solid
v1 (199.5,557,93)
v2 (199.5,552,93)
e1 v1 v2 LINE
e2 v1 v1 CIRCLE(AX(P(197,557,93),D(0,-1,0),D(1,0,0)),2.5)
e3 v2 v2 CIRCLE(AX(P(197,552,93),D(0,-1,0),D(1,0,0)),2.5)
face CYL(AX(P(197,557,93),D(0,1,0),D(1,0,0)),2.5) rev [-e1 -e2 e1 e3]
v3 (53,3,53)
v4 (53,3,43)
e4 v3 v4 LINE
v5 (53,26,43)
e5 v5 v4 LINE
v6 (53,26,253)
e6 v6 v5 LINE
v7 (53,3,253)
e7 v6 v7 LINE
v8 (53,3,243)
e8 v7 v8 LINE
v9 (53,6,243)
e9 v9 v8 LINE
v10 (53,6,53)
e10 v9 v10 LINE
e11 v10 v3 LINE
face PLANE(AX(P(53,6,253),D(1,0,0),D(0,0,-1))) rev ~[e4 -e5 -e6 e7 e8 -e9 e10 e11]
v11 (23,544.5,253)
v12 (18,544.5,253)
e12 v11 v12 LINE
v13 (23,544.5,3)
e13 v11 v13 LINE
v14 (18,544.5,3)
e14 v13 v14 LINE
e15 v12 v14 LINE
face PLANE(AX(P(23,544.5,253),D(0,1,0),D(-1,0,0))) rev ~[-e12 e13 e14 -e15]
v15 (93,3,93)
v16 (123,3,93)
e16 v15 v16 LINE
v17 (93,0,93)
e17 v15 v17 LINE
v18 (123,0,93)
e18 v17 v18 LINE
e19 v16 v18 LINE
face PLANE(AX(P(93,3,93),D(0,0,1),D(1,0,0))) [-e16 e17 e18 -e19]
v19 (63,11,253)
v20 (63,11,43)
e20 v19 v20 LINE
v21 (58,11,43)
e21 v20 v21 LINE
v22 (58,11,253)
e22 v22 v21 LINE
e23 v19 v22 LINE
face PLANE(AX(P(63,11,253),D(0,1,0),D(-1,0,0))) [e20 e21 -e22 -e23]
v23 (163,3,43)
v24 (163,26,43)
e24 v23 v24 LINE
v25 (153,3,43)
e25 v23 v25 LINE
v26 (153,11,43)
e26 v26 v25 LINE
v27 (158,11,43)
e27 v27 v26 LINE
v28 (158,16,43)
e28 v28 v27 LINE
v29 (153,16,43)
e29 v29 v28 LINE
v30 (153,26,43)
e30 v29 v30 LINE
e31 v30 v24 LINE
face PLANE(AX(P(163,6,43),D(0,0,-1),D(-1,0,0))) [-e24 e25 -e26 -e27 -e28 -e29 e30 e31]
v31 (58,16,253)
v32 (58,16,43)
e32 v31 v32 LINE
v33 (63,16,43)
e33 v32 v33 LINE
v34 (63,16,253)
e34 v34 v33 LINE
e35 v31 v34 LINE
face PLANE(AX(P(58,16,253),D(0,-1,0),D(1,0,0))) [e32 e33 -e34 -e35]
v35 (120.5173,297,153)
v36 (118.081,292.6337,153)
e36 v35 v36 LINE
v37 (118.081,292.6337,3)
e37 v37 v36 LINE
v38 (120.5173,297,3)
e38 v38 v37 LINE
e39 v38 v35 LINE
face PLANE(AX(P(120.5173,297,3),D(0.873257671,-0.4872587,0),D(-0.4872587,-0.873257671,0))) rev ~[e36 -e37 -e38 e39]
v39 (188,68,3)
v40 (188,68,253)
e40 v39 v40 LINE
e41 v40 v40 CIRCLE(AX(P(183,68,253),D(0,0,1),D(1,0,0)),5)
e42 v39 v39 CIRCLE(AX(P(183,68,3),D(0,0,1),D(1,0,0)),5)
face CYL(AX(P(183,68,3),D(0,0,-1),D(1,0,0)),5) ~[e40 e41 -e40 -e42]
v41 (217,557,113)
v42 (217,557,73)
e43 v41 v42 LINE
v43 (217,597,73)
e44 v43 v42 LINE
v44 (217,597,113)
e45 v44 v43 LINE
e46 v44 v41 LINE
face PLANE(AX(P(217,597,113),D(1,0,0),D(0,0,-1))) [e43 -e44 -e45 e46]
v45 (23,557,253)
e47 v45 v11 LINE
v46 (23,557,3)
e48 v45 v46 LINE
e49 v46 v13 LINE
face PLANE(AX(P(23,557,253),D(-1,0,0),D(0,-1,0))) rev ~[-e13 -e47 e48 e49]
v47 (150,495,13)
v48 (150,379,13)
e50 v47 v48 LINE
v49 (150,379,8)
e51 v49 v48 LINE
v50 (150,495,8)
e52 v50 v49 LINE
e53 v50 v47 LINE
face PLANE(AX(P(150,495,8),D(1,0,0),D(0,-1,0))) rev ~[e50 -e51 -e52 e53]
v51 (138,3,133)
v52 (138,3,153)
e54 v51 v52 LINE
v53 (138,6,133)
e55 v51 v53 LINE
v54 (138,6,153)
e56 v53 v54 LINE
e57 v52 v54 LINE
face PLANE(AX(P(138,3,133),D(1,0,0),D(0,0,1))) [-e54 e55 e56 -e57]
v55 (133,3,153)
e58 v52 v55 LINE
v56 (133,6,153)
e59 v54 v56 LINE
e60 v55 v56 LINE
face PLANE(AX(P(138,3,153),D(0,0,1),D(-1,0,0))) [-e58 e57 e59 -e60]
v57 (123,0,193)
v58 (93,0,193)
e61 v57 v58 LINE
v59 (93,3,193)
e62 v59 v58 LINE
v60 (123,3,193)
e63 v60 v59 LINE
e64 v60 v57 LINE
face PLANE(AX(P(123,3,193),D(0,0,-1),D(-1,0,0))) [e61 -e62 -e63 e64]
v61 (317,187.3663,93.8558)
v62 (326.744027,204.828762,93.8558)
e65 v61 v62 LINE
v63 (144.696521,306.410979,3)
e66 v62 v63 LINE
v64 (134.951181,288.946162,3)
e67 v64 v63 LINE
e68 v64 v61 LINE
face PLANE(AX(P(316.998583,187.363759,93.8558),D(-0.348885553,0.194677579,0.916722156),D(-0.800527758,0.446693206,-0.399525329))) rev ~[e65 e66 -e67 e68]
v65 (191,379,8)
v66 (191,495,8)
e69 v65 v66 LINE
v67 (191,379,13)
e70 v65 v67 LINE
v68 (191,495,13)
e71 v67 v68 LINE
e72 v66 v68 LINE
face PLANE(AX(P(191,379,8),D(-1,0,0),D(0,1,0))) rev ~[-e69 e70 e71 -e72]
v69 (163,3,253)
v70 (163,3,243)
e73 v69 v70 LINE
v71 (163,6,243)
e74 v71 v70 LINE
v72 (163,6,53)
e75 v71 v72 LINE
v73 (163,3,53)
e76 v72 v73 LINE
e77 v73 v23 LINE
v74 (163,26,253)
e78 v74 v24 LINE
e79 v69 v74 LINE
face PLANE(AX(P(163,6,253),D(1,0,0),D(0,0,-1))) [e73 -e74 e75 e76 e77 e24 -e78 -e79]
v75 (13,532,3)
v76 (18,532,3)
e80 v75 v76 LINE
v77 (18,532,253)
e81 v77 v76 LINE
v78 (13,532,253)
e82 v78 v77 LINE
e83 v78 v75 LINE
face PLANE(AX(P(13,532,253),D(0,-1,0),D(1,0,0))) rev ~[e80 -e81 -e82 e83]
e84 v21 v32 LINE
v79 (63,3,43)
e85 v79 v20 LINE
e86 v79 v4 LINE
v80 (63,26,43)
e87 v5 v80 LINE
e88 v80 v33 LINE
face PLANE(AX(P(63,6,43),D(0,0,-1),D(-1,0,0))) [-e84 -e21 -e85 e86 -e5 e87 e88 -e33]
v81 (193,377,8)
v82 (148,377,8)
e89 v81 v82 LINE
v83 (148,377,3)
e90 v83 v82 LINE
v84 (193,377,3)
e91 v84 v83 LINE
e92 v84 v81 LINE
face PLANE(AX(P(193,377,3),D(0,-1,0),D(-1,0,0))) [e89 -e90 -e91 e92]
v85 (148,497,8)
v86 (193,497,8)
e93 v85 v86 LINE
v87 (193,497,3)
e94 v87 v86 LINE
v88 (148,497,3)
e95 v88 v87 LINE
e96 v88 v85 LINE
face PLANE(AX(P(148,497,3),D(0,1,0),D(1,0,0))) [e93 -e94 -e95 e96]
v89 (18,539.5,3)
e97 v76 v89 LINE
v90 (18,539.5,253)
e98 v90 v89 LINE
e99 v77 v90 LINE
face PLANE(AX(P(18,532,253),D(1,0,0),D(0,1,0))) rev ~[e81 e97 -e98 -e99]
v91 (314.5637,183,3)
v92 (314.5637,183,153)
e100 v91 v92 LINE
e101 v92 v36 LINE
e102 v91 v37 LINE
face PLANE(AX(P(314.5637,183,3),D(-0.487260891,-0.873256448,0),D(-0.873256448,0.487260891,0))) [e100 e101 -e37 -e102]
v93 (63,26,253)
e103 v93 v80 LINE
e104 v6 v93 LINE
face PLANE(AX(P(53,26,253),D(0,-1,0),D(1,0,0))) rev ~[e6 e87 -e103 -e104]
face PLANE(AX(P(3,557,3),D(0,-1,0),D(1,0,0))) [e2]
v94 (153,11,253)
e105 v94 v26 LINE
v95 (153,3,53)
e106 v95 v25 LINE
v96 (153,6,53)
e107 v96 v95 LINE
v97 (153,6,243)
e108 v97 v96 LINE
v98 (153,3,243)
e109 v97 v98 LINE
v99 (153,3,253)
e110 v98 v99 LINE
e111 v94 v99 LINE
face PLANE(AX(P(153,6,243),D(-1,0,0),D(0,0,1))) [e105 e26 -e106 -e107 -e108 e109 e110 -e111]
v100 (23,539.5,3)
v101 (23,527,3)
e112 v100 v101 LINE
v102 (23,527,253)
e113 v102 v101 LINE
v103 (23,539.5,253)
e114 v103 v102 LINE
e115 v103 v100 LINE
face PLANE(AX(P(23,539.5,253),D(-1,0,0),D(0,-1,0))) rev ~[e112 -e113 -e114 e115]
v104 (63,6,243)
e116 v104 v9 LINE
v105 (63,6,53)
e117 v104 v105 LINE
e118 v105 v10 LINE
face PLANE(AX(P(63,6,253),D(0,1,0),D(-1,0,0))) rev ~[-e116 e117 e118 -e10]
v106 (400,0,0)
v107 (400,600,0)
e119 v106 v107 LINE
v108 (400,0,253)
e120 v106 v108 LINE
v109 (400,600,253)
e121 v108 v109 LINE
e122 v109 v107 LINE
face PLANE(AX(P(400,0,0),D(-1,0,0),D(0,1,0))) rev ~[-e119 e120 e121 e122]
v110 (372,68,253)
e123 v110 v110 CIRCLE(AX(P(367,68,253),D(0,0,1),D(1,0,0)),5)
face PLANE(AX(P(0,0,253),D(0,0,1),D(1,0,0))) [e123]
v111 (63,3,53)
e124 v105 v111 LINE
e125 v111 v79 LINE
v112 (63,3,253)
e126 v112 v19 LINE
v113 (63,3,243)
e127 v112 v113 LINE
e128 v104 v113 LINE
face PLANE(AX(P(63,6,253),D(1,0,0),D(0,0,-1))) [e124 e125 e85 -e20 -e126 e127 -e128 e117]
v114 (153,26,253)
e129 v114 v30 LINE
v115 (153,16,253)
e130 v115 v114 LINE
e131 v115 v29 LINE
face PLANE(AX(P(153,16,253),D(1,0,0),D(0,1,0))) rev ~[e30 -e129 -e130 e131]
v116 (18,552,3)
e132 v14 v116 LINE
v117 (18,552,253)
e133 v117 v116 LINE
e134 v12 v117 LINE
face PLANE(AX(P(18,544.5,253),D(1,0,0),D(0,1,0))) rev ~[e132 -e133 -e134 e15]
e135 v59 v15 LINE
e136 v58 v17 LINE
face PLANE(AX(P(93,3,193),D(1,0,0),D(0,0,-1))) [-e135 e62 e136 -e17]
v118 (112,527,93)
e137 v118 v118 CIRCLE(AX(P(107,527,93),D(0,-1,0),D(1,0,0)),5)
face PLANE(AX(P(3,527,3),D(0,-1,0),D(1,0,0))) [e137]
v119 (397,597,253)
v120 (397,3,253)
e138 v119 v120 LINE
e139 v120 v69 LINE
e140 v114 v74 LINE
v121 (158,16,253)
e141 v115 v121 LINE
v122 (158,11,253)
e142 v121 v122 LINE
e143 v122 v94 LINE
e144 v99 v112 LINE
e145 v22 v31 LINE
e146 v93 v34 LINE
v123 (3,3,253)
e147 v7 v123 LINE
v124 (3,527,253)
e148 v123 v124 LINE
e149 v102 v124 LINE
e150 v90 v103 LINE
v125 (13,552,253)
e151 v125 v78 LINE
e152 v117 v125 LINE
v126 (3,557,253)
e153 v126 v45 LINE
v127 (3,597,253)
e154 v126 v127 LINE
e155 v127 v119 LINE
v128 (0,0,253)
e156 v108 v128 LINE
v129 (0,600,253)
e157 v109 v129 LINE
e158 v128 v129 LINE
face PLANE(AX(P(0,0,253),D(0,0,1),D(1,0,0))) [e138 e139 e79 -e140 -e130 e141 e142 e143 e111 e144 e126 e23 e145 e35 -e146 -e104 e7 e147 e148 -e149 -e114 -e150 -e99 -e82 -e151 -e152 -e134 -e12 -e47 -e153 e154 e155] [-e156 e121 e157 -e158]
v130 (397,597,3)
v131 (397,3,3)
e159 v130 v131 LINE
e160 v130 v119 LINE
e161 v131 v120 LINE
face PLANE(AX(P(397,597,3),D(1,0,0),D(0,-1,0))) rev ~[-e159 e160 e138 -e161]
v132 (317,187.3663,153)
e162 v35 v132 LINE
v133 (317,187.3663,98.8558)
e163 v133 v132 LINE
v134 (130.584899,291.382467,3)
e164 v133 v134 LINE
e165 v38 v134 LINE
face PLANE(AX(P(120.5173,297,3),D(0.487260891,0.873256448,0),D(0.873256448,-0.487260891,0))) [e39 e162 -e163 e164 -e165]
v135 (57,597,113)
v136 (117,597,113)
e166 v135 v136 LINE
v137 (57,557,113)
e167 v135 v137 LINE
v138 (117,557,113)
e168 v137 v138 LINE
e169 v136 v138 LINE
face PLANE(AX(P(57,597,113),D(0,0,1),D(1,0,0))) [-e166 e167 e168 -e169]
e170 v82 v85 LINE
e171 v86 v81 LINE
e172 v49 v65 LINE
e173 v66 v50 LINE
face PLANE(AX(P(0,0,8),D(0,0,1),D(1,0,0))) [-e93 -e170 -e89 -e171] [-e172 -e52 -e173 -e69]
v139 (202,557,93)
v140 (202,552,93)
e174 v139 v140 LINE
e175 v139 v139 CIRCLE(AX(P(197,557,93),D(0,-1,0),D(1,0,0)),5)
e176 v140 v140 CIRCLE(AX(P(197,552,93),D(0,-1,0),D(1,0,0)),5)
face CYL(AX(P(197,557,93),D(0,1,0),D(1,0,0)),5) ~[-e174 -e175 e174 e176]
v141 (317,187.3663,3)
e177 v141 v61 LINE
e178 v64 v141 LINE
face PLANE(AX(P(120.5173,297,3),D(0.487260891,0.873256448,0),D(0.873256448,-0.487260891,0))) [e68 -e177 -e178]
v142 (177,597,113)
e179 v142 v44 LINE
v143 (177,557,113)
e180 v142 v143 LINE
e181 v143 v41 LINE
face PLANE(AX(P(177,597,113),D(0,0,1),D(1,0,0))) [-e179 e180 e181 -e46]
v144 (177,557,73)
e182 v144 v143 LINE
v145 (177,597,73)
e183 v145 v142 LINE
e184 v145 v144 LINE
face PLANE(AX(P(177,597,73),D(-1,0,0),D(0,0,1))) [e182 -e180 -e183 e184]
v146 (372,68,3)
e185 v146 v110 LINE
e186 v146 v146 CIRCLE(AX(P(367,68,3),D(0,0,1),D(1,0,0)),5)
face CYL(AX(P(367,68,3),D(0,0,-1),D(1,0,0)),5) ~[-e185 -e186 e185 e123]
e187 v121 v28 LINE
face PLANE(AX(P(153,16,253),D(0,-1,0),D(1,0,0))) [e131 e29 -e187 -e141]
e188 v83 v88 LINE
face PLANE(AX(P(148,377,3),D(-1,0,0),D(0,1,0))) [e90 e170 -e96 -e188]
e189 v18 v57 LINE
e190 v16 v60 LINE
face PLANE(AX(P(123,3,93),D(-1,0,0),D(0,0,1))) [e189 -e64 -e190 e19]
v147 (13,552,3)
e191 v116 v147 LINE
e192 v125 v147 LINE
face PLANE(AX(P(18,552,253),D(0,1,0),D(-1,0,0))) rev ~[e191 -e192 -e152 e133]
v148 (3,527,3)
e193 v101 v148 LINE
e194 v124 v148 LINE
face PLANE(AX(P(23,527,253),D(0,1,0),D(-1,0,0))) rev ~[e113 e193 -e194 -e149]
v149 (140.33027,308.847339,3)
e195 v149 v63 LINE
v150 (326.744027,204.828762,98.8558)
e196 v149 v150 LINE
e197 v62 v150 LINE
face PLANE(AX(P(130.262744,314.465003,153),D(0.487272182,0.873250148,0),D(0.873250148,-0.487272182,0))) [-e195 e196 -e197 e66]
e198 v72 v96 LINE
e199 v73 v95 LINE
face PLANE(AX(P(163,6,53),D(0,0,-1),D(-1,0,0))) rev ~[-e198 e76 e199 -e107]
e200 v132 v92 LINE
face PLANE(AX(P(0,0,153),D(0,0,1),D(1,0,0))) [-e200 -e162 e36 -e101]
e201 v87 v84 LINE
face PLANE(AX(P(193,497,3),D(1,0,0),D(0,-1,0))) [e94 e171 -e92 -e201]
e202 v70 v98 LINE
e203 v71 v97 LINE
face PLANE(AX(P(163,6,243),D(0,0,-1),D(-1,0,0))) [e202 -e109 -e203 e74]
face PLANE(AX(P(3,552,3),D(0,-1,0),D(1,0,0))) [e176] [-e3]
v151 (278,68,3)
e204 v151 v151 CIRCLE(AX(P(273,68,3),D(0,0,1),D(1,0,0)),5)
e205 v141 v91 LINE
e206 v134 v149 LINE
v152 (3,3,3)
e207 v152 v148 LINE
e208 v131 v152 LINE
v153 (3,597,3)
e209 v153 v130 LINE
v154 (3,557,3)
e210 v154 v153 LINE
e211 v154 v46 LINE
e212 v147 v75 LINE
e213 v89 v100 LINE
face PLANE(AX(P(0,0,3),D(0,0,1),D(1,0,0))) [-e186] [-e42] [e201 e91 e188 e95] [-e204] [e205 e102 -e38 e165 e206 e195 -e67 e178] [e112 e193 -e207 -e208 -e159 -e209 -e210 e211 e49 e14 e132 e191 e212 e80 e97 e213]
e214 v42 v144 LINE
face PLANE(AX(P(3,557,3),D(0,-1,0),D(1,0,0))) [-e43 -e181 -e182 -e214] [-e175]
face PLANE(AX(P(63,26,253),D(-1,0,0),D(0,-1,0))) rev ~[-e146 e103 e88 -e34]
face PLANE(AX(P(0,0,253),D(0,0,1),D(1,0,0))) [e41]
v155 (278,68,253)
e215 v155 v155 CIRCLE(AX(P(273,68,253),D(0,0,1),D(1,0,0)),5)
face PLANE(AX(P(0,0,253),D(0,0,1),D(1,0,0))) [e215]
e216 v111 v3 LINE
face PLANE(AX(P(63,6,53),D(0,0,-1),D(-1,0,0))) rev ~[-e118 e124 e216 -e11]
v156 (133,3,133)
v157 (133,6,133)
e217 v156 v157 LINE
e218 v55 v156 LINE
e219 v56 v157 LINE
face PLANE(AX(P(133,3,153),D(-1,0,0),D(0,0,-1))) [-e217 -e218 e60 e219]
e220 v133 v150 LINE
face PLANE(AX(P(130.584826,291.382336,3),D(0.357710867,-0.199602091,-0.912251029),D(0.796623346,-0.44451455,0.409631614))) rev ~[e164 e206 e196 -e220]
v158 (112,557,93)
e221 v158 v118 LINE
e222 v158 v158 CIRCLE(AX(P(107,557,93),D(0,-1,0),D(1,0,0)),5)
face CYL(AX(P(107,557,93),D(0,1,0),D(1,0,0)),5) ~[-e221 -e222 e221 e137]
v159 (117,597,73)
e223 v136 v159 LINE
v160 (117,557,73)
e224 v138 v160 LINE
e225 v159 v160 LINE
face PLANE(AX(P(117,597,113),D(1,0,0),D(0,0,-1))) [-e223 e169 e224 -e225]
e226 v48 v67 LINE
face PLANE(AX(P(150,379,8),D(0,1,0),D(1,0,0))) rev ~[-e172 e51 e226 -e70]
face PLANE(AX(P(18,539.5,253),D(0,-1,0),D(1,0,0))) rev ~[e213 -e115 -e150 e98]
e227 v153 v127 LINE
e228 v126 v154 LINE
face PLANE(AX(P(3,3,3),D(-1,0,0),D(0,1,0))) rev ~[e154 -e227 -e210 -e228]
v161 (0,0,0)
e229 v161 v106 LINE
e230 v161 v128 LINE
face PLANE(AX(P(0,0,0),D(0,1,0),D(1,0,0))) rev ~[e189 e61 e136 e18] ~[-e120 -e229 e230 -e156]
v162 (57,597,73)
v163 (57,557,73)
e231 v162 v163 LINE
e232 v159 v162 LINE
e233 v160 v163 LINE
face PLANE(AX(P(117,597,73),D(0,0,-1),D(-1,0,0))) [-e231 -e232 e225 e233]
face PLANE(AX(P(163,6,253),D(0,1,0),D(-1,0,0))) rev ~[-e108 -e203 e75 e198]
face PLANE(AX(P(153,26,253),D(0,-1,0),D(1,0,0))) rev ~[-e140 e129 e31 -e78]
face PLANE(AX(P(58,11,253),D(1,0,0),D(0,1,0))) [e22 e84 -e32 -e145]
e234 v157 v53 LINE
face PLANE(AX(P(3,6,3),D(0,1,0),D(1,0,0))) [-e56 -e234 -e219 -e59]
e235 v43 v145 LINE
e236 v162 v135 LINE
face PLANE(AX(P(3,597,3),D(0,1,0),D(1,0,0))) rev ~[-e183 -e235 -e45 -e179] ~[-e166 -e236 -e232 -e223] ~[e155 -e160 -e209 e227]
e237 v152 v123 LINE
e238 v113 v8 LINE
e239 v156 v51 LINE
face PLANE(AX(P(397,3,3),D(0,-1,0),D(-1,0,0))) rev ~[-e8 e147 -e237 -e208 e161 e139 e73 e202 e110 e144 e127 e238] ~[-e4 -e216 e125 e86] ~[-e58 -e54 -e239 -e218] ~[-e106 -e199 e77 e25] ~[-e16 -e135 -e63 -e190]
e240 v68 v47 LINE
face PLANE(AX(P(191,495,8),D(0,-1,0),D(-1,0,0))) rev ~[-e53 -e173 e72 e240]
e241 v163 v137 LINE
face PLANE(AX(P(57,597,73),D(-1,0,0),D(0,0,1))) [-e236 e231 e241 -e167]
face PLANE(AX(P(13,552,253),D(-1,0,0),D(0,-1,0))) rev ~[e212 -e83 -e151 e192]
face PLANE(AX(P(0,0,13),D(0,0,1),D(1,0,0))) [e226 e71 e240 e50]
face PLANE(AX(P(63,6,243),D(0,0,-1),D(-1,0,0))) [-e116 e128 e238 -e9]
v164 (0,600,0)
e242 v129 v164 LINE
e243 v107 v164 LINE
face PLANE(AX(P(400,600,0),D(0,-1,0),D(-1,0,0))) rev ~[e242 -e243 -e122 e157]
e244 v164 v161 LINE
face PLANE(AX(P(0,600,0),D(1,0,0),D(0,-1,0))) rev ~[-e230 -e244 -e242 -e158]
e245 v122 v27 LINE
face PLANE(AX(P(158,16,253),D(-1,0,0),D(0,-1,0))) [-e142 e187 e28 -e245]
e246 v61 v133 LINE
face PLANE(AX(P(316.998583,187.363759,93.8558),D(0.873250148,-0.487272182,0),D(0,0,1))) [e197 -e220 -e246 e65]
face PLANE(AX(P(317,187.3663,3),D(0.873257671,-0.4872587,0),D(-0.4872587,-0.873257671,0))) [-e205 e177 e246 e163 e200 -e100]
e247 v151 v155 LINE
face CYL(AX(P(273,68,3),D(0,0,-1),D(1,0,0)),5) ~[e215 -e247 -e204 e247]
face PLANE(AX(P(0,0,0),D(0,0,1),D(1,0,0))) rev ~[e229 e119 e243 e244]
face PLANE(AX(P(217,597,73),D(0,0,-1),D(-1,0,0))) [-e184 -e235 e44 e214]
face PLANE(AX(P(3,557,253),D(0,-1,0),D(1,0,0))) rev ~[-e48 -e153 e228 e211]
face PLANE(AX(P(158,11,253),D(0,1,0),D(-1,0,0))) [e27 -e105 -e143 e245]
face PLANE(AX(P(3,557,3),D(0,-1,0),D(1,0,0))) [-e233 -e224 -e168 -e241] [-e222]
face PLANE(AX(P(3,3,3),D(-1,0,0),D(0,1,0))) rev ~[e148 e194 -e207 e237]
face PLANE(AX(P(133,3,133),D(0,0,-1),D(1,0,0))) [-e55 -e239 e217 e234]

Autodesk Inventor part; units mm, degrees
ref_plane "YZ Plane" through (0, 0, 0) normal (1, 0, 0) x (0, 1, 0)
ref_plane "XZ Plane" through (0, 0, 0) normal (0, 1, 0) x (-1, 0, 0)
ref_plane "XY Plane" through (0, 0, 0) normal (0, 0, 1) x (1, 0, 0)
sketch "Sketch1" plane through (0, 0, 0) normal (0, 0, 1) x (1, 0, 0)
  line L0 (0, 0) -> (400, 0)
  line L1 (400, 0) -> (400, 600)
  line L2 (400, 600) -> (0, 600)
  line L3 (0, 600) -> (0, 0)
  dimension "d0" = 400
  dimension "d1" = 600
extrude "Extrusion1" add sketch "Sketch1" along normal blind 3
sketch "Sketch2" plane through (0, 0, 3) normal (0, 0, 1) x (1, 0, 0)
  line L0 (400, 600) -> (0, 600) projected
  line L1 (400, 0) -> (400, 600) projected
  line L2 (0, 600) -> (400, 600)
  line L3 (400, 600) -> (400, 0)
  line L4 (400, 0) -> (0, 0)
  line L5 (0, 0) -> (0, 600)
  line L6 (3, 597) -> (397, 597)
  line L7 (397, 597) -> (397, 3)
  line L8 (397, 3) -> (3, 3)
  line L9 (3, 3) -> (3, 597)
  dimension "d4" = 3
extrude "Extrusion2" add sketch "Sketch2" along normal blind 250
sketch "Sketch3" plane through (3, 597, 3) normal (0, -1, 0) x (1, 0, 0)
  line L0 (54, 110) -> (114, 110)
  line L1 (114, 110) -> (114, 70)
  line L2 (114, 70) -> (54, 70)
  line L3 (54, 70) -> (54, 110)
  line L4 (0, 250) -> (394, 250) projected
  line L5 (394, 0) -> (0, 0) projected
  point P0 (-3, -3)
  dimension "d7" = 40
  dimension "d8" = 60
  dimension "d9" = 54
  dimension "d11" = 70
extrude "Extrusion3" add sketch "Sketch3" along normal blind 40
sketch "Sketch4" plane through (3, 557, 3) normal (0, -1, 0) x (1, 0, 0)
  circle A0 centre (104, 90) radius 5
  line L0 (114, 70) -> (114, 110) projected
  line L1 (114, 110) -> (54, 110) projected
  point P0 (-3, -3)
  dimension "d14" = 10
  dimension "d15" = 10
  dimension "d16" = 20
extrude "Extrusion4" add sketch "Sketch4" along normal blind 30
sketch "Sketch5" plane through (0, 0, 253) normal (0, 0, 1) x (1, 0, 0)
  line L0 (3, 3) -> (3, 597) projected
  line L1 (3, 557) -> (23, 557)
  line L2 (23, 557) -> (23, 527)
  line L3 (23, 527) -> (3, 527)
  line L4 (3, 527) -> (3, 557)
  line L5 (23, 544.5) -> (18, 544.5)
  line L6 (18, 544.5) -> (18, 539.5)
  line L7 (18, 539.5) -> (23, 539.5)
  line L8 (23, 539.5) -> (23, 544.5)
  line L9 (23, 542) -> (-4.5465, 542) construction
  line L10 (18, 552) -> (13, 552)
  line L11 (13, 552) -> (13, 532)
  line L12 (13, 532) -> (18, 532)
  line L13 (18, 532) -> (18, 552)
  line L14 (3, 597) -> (397, 597) construction
  point P0 (0, 0)
  point P1 (18, 542)
  point P2 (18, 544.5)
  point P3 (3, 527)
  point P4 (23, 539.5)
  point P5 (18, 539.5)
  dimension "d19" = 20
  dimension "d20" = 30
  dimension "d21" = 5
  dimension "d22" = 5
  dimension "d24" = 2.5
  dimension "d25" = 5
  dimension "d26" = 20
  dimension "d28" = 10
  dimension "d29" = 40
extrude "Extrusion5" add sketch "Sketch5" against normal blind 250 contours L0 L1 L2 L5 L13 L10 L11 L12 L7 L3
sketch "Sketch6" plane through (0, 0, 3) normal (0, 0, 1) x (1, 0, 0)
  line L0 (148, 497) -> (193, 497)
  line L1 (193, 497) -> (193, 377)
  line L2 (193, 377) -> (148, 377)
  line L3 (148, 377) -> (148, 497)
  line L4 (3, 3) -> (3, 527) projected
  line L5 (3, 597) -> (397, 597) projected
  point P0 (0, 0)
  dimension "d32" = 45
  dimension "d33" = 120
  dimension "d34" = 145
  dimension "d35" = 100
extrude "Extrusion6" add sketch "Sketch6" along normal blind 5
sketch "Sketch7" plane through (0, 0, 8) normal (0, 0, 1) x (1, 0, 0)
  line L0 (148, 377) -> (193, 377) projected
  line L1 (148, 497) -> (193, 497)
  line L2 (193, 497) -> (193, 377)
  line L3 (193, 377) -> (148, 377)
  line L4 (148, 377) -> (148, 497)
  line L5 (191, 495) -> (150, 495)
  line L6 (150, 495) -> (150, 379)
  line L7 (150, 379) -> (191, 379)
  line L8 (191, 379) -> (191, 495)
  point P0 (0, 0)
  point P1 (148, 377)
  dimension "d40" = 2
extrude "Extrusion7" add sketch "Sketch7" along normal blind 5 contours L8 L7 L6 L5
sketch "Sketch8" plane through (0, 0, 253) normal (0, 0, 1) x (1, 0, 0)
  line L0 (3, 527) -> (3, 3) projected
  line L1 (53, 26) -> (63, 26)
  line L2 (63, 26) -> (63, 6)
  line L3 (63, 6) -> (53, 6)
  line L4 (53, 6) -> (53, 26)
  line L5 (397, 3) -> (3, 3) projected
  line L6 (153, 26) -> (163, 26)
  line L7 (163, 26) -> (163, 6)
  line L8 (163, 6) -> (153, 6)
  line L9 (153, 6) -> (153, 26)
  line L10 (58, 16) -> (63, 16)
  line L11 (63, 16) -> (63, 11)
  line L12 (63, 11) -> (58, 11)
  line L13 (58, 11) -> (58, 16)
  line L14 (153, 16) -> (158, 16)
  line L15 (158, 16) -> (158, 11)
  line L16 (158, 11) -> (153, 11)
  line L17 (153, 11) -> (153, 16)
  point P0 (0, 0)
  point P1 (53, 28)
  dimension "d54" = 10
  dimension "d55" = 20
  dimension "d57" = 50
  dimension "d60" = 3
  dimension "d61" = 10
  dimension "d62" = 20
  dimension "d65" = 3
  dimension "d74" = 5
  dimension "d75" = 5
  dimension "d76" = 90
  dimension "d77" = 5
  dimension "d79" = 5
  dimension "d80" = 5
  dimension "d81" = 5
extrude "Extrusion8" add sketch "Sketch8" against normal blind 210 contours L1 L2 L10 L13 L12 L3 L4 | L6 L7 L8 L9 L16 L15 L14
sketch "Sketch9" plane through (53, 6, 253) normal (0, -1, 0) x (1, 0, 0)
  line L0 (0, 0) -> (0, -210) projected
  line L1 (10, 0) -> (10, -210) projected
  line L2 (0, 0) -> (10, 0)
  line L3 (10, 0) -> (10, -10)
  line L4 (10, -10) -> (0, -10)
  line L5 (0, -10) -> (0, 0)
  line L6 (100, 0) -> (110, 0) projected
  line L7 (110, 0) -> (110, -210) projected
  line L8 (100, 0) -> (110, 0)
  line L9 (110, 0) -> (110, -10)
  line L10 (110, -10) -> (100, -10)
  line L11 (100, -10) -> (100, 0)
  line L12 (10, -210) -> (0, -210) projected
  line L13 (0, -210) -> (10, -210)
  line L14 (10, -210) -> (10, -200)
  line L15 (10, -200) -> (0, -200)
  line L16 (0, -200) -> (0, -210)
  line L17 (110, -210) -> (100, -210) projected
  line L18 (100, -210) -> (110, -210)
  line L19 (110, -210) -> (110, -200)
  line L20 (110, -200) -> (100, -200)
  line L21 (100, -200) -> (100, -210)
  point P0 (-53, -253)
  point P1 (10, -200)
  point P2 (0, -200)
  dimension "d67" = 10
  dimension "d68" = 10
  dimension "d69" = 10
  dimension "d70" = 10
  dimension "d73" = 10
extrude "Extrusion9" add sketch "Sketch9" along normal blind 3 contours L2 L1 L4 L0 | L15 L1 L12 L0 | L7 L17 L21 L20 | L6 L7 L10 L11
sketch "Sketch10" plane through (3, 3, 3) normal (0, 1, 0) x (1, 0, 0)
  line L0 (90, -90) -> (120, -90)
  line L1 (120, -90) -> (120, -190)
  line L2 (120, -190) -> (90, -190)
  line L3 (90, -190) -> (90, -90)
  line L4 (50, -50) -> (60, -50) projected
  line L5 (60, -240) -> (50, -240) projected
  line L6 (60, -250) -> (60, -40) projected
  point P0 (-3, 3)
  dimension "d84" = 30
  dimension "d85" = 100
  dimension "d87" = 50
  dimension "d88" = 30
extrude "Extrusion10" cut sketch "Sketch10" against normal blind 5
sketch "Sketch11" plane through (3, 3, 3) normal (0, 1, 0) x (1, 0, 0)
  line L0 (130, -130) -> (135, -130)
  line L1 (135, -130) -> (135, -150)
  line L2 (135, -150) -> (130, -150)
  line L3 (130, -150) -> (130, -130)
  line L4 (120, -90) -> (120, -190) projected
  line L5 (120, -190) -> (90, -190) projected
  point P0 (-3, 3)
  dimension "d91" = 5
  dimension "d92" = 20
  dimension "d93" = 10
  dimension "d94" = 40
extrude "Extrusion11" add sketch "Sketch11" along normal blind 3
sketch "Sketch12" plane through (0, 0, 3) normal (0, 0, 1) x (1, 0, 0)
  line L0 (120.5173, 297) -> (317, 187.3663)
  line L1 (317, 187.3663) -> (314.5637, 183)
  line L2 (314.5637, 183) -> (118.081, 292.6337)
  line L3 (120.5173, 297) -> (118.081, 292.6337)
  line L4 (397, 597) -> (397, 3) projected
  line L5 (397, 3) -> (3, 3) projected
  line L6 (3, 597) -> (397, 597) projected
  point P0 (0, 0)
  point P1 (163, 3)
  dimension "d97" = 5
  dimension "d99" = 80
  dimension "d100" = 180
  dimension "d101" = 225
  dimension "d104" = 300
extrude "Extrusion12" add sketch "Sketch12" along normal blind 150
sketch "Sketch13" plane through (3, 597, 3) normal (0, -1, 0) x (1, 0, 0)
  line L0 (174, 110) -> (214, 110)
  line L1 (214, 110) -> (214, 70)
  line L2 (214, 70) -> (174, 70)
  line L3 (174, 70) -> (174, 110)
  circle A0 centre (104, 90) radius 5 projected
  point P0 (-3, -3)
  dimension "d105" = 40
  dimension "d106" = 70
extrude "Extrusion13" add sketch "Sketch13" along normal blind 40 contours L0 L1 L2 L3
sketch "Sketch15" plane through (3, 557, 3) normal (0, -1, 0) x (1, 0, 0)
  circle A0 centre (194, 90) radius 5
  circle A1 centre (194, 90) radius 2.5
  line L0 (174, 110) -> (174, 70) projected
  line L1 (214, 110) -> (174, 110) projected
  point P0 (-3, -3)
  dimension "d114" = 10
  dimension "d115" = 5
  dimension "d116" = 20
  dimension "d117" = 20
extrude "Extrusion15" add sketch "Sketch15" along normal blind 5
sketch "Sketch16" plane through (0, 0, 3) normal (0, 0, 1) x (1, 0, 0)
  circle A0 centre (183, 68) radius 5
  circle A1 centre (367, 68) radius 5
  line L0 (397, 597) -> (397, 3) projected
  line L1 (163, 3) -> (163, 26) projected
  line L2 (397, 3) -> (163, 3) projected
  circle A2 centre (273, 68) radius 5
  point P0 (0, 0)
  dimension "d120" = 10
  dimension "d121" = 10
  dimension "d122" = 30
  dimension "d123" = 20
  dimension "d124" = 65
  dimension "d125" = 65
  dimension "d128" = 10
  dimension "d129" = 90
extrude "Extrusion16" add sketch "Sketch16" along normal blind 250
sketch "Sketch17" plane through (120.5173, 297, 153) normal (0.4873, 0.8733, 0) x (0.8733, -0.4873, 0)
  line L0 (225, 150) -> (225, 0) projected
  line L1 (225, 59.1442) -> (16.5288, 150)
  line L2 (-214.6928, 150) -> (40.632, 150) projected
  line L3 (11.5288, 150) -> (225, 54.1442)
  line L4 (225, 54.1442) -> (225, 59.1442)
  line L5 (11.5288, 150) -> (16.5288, 150)
  point P0 (39.474, 153)
  dimension "d132" = 5
  dimension "d133" = 5
extrude "Extrusion17" add sketch "Sketch17" along normal blind 20
properties part number "caja"
